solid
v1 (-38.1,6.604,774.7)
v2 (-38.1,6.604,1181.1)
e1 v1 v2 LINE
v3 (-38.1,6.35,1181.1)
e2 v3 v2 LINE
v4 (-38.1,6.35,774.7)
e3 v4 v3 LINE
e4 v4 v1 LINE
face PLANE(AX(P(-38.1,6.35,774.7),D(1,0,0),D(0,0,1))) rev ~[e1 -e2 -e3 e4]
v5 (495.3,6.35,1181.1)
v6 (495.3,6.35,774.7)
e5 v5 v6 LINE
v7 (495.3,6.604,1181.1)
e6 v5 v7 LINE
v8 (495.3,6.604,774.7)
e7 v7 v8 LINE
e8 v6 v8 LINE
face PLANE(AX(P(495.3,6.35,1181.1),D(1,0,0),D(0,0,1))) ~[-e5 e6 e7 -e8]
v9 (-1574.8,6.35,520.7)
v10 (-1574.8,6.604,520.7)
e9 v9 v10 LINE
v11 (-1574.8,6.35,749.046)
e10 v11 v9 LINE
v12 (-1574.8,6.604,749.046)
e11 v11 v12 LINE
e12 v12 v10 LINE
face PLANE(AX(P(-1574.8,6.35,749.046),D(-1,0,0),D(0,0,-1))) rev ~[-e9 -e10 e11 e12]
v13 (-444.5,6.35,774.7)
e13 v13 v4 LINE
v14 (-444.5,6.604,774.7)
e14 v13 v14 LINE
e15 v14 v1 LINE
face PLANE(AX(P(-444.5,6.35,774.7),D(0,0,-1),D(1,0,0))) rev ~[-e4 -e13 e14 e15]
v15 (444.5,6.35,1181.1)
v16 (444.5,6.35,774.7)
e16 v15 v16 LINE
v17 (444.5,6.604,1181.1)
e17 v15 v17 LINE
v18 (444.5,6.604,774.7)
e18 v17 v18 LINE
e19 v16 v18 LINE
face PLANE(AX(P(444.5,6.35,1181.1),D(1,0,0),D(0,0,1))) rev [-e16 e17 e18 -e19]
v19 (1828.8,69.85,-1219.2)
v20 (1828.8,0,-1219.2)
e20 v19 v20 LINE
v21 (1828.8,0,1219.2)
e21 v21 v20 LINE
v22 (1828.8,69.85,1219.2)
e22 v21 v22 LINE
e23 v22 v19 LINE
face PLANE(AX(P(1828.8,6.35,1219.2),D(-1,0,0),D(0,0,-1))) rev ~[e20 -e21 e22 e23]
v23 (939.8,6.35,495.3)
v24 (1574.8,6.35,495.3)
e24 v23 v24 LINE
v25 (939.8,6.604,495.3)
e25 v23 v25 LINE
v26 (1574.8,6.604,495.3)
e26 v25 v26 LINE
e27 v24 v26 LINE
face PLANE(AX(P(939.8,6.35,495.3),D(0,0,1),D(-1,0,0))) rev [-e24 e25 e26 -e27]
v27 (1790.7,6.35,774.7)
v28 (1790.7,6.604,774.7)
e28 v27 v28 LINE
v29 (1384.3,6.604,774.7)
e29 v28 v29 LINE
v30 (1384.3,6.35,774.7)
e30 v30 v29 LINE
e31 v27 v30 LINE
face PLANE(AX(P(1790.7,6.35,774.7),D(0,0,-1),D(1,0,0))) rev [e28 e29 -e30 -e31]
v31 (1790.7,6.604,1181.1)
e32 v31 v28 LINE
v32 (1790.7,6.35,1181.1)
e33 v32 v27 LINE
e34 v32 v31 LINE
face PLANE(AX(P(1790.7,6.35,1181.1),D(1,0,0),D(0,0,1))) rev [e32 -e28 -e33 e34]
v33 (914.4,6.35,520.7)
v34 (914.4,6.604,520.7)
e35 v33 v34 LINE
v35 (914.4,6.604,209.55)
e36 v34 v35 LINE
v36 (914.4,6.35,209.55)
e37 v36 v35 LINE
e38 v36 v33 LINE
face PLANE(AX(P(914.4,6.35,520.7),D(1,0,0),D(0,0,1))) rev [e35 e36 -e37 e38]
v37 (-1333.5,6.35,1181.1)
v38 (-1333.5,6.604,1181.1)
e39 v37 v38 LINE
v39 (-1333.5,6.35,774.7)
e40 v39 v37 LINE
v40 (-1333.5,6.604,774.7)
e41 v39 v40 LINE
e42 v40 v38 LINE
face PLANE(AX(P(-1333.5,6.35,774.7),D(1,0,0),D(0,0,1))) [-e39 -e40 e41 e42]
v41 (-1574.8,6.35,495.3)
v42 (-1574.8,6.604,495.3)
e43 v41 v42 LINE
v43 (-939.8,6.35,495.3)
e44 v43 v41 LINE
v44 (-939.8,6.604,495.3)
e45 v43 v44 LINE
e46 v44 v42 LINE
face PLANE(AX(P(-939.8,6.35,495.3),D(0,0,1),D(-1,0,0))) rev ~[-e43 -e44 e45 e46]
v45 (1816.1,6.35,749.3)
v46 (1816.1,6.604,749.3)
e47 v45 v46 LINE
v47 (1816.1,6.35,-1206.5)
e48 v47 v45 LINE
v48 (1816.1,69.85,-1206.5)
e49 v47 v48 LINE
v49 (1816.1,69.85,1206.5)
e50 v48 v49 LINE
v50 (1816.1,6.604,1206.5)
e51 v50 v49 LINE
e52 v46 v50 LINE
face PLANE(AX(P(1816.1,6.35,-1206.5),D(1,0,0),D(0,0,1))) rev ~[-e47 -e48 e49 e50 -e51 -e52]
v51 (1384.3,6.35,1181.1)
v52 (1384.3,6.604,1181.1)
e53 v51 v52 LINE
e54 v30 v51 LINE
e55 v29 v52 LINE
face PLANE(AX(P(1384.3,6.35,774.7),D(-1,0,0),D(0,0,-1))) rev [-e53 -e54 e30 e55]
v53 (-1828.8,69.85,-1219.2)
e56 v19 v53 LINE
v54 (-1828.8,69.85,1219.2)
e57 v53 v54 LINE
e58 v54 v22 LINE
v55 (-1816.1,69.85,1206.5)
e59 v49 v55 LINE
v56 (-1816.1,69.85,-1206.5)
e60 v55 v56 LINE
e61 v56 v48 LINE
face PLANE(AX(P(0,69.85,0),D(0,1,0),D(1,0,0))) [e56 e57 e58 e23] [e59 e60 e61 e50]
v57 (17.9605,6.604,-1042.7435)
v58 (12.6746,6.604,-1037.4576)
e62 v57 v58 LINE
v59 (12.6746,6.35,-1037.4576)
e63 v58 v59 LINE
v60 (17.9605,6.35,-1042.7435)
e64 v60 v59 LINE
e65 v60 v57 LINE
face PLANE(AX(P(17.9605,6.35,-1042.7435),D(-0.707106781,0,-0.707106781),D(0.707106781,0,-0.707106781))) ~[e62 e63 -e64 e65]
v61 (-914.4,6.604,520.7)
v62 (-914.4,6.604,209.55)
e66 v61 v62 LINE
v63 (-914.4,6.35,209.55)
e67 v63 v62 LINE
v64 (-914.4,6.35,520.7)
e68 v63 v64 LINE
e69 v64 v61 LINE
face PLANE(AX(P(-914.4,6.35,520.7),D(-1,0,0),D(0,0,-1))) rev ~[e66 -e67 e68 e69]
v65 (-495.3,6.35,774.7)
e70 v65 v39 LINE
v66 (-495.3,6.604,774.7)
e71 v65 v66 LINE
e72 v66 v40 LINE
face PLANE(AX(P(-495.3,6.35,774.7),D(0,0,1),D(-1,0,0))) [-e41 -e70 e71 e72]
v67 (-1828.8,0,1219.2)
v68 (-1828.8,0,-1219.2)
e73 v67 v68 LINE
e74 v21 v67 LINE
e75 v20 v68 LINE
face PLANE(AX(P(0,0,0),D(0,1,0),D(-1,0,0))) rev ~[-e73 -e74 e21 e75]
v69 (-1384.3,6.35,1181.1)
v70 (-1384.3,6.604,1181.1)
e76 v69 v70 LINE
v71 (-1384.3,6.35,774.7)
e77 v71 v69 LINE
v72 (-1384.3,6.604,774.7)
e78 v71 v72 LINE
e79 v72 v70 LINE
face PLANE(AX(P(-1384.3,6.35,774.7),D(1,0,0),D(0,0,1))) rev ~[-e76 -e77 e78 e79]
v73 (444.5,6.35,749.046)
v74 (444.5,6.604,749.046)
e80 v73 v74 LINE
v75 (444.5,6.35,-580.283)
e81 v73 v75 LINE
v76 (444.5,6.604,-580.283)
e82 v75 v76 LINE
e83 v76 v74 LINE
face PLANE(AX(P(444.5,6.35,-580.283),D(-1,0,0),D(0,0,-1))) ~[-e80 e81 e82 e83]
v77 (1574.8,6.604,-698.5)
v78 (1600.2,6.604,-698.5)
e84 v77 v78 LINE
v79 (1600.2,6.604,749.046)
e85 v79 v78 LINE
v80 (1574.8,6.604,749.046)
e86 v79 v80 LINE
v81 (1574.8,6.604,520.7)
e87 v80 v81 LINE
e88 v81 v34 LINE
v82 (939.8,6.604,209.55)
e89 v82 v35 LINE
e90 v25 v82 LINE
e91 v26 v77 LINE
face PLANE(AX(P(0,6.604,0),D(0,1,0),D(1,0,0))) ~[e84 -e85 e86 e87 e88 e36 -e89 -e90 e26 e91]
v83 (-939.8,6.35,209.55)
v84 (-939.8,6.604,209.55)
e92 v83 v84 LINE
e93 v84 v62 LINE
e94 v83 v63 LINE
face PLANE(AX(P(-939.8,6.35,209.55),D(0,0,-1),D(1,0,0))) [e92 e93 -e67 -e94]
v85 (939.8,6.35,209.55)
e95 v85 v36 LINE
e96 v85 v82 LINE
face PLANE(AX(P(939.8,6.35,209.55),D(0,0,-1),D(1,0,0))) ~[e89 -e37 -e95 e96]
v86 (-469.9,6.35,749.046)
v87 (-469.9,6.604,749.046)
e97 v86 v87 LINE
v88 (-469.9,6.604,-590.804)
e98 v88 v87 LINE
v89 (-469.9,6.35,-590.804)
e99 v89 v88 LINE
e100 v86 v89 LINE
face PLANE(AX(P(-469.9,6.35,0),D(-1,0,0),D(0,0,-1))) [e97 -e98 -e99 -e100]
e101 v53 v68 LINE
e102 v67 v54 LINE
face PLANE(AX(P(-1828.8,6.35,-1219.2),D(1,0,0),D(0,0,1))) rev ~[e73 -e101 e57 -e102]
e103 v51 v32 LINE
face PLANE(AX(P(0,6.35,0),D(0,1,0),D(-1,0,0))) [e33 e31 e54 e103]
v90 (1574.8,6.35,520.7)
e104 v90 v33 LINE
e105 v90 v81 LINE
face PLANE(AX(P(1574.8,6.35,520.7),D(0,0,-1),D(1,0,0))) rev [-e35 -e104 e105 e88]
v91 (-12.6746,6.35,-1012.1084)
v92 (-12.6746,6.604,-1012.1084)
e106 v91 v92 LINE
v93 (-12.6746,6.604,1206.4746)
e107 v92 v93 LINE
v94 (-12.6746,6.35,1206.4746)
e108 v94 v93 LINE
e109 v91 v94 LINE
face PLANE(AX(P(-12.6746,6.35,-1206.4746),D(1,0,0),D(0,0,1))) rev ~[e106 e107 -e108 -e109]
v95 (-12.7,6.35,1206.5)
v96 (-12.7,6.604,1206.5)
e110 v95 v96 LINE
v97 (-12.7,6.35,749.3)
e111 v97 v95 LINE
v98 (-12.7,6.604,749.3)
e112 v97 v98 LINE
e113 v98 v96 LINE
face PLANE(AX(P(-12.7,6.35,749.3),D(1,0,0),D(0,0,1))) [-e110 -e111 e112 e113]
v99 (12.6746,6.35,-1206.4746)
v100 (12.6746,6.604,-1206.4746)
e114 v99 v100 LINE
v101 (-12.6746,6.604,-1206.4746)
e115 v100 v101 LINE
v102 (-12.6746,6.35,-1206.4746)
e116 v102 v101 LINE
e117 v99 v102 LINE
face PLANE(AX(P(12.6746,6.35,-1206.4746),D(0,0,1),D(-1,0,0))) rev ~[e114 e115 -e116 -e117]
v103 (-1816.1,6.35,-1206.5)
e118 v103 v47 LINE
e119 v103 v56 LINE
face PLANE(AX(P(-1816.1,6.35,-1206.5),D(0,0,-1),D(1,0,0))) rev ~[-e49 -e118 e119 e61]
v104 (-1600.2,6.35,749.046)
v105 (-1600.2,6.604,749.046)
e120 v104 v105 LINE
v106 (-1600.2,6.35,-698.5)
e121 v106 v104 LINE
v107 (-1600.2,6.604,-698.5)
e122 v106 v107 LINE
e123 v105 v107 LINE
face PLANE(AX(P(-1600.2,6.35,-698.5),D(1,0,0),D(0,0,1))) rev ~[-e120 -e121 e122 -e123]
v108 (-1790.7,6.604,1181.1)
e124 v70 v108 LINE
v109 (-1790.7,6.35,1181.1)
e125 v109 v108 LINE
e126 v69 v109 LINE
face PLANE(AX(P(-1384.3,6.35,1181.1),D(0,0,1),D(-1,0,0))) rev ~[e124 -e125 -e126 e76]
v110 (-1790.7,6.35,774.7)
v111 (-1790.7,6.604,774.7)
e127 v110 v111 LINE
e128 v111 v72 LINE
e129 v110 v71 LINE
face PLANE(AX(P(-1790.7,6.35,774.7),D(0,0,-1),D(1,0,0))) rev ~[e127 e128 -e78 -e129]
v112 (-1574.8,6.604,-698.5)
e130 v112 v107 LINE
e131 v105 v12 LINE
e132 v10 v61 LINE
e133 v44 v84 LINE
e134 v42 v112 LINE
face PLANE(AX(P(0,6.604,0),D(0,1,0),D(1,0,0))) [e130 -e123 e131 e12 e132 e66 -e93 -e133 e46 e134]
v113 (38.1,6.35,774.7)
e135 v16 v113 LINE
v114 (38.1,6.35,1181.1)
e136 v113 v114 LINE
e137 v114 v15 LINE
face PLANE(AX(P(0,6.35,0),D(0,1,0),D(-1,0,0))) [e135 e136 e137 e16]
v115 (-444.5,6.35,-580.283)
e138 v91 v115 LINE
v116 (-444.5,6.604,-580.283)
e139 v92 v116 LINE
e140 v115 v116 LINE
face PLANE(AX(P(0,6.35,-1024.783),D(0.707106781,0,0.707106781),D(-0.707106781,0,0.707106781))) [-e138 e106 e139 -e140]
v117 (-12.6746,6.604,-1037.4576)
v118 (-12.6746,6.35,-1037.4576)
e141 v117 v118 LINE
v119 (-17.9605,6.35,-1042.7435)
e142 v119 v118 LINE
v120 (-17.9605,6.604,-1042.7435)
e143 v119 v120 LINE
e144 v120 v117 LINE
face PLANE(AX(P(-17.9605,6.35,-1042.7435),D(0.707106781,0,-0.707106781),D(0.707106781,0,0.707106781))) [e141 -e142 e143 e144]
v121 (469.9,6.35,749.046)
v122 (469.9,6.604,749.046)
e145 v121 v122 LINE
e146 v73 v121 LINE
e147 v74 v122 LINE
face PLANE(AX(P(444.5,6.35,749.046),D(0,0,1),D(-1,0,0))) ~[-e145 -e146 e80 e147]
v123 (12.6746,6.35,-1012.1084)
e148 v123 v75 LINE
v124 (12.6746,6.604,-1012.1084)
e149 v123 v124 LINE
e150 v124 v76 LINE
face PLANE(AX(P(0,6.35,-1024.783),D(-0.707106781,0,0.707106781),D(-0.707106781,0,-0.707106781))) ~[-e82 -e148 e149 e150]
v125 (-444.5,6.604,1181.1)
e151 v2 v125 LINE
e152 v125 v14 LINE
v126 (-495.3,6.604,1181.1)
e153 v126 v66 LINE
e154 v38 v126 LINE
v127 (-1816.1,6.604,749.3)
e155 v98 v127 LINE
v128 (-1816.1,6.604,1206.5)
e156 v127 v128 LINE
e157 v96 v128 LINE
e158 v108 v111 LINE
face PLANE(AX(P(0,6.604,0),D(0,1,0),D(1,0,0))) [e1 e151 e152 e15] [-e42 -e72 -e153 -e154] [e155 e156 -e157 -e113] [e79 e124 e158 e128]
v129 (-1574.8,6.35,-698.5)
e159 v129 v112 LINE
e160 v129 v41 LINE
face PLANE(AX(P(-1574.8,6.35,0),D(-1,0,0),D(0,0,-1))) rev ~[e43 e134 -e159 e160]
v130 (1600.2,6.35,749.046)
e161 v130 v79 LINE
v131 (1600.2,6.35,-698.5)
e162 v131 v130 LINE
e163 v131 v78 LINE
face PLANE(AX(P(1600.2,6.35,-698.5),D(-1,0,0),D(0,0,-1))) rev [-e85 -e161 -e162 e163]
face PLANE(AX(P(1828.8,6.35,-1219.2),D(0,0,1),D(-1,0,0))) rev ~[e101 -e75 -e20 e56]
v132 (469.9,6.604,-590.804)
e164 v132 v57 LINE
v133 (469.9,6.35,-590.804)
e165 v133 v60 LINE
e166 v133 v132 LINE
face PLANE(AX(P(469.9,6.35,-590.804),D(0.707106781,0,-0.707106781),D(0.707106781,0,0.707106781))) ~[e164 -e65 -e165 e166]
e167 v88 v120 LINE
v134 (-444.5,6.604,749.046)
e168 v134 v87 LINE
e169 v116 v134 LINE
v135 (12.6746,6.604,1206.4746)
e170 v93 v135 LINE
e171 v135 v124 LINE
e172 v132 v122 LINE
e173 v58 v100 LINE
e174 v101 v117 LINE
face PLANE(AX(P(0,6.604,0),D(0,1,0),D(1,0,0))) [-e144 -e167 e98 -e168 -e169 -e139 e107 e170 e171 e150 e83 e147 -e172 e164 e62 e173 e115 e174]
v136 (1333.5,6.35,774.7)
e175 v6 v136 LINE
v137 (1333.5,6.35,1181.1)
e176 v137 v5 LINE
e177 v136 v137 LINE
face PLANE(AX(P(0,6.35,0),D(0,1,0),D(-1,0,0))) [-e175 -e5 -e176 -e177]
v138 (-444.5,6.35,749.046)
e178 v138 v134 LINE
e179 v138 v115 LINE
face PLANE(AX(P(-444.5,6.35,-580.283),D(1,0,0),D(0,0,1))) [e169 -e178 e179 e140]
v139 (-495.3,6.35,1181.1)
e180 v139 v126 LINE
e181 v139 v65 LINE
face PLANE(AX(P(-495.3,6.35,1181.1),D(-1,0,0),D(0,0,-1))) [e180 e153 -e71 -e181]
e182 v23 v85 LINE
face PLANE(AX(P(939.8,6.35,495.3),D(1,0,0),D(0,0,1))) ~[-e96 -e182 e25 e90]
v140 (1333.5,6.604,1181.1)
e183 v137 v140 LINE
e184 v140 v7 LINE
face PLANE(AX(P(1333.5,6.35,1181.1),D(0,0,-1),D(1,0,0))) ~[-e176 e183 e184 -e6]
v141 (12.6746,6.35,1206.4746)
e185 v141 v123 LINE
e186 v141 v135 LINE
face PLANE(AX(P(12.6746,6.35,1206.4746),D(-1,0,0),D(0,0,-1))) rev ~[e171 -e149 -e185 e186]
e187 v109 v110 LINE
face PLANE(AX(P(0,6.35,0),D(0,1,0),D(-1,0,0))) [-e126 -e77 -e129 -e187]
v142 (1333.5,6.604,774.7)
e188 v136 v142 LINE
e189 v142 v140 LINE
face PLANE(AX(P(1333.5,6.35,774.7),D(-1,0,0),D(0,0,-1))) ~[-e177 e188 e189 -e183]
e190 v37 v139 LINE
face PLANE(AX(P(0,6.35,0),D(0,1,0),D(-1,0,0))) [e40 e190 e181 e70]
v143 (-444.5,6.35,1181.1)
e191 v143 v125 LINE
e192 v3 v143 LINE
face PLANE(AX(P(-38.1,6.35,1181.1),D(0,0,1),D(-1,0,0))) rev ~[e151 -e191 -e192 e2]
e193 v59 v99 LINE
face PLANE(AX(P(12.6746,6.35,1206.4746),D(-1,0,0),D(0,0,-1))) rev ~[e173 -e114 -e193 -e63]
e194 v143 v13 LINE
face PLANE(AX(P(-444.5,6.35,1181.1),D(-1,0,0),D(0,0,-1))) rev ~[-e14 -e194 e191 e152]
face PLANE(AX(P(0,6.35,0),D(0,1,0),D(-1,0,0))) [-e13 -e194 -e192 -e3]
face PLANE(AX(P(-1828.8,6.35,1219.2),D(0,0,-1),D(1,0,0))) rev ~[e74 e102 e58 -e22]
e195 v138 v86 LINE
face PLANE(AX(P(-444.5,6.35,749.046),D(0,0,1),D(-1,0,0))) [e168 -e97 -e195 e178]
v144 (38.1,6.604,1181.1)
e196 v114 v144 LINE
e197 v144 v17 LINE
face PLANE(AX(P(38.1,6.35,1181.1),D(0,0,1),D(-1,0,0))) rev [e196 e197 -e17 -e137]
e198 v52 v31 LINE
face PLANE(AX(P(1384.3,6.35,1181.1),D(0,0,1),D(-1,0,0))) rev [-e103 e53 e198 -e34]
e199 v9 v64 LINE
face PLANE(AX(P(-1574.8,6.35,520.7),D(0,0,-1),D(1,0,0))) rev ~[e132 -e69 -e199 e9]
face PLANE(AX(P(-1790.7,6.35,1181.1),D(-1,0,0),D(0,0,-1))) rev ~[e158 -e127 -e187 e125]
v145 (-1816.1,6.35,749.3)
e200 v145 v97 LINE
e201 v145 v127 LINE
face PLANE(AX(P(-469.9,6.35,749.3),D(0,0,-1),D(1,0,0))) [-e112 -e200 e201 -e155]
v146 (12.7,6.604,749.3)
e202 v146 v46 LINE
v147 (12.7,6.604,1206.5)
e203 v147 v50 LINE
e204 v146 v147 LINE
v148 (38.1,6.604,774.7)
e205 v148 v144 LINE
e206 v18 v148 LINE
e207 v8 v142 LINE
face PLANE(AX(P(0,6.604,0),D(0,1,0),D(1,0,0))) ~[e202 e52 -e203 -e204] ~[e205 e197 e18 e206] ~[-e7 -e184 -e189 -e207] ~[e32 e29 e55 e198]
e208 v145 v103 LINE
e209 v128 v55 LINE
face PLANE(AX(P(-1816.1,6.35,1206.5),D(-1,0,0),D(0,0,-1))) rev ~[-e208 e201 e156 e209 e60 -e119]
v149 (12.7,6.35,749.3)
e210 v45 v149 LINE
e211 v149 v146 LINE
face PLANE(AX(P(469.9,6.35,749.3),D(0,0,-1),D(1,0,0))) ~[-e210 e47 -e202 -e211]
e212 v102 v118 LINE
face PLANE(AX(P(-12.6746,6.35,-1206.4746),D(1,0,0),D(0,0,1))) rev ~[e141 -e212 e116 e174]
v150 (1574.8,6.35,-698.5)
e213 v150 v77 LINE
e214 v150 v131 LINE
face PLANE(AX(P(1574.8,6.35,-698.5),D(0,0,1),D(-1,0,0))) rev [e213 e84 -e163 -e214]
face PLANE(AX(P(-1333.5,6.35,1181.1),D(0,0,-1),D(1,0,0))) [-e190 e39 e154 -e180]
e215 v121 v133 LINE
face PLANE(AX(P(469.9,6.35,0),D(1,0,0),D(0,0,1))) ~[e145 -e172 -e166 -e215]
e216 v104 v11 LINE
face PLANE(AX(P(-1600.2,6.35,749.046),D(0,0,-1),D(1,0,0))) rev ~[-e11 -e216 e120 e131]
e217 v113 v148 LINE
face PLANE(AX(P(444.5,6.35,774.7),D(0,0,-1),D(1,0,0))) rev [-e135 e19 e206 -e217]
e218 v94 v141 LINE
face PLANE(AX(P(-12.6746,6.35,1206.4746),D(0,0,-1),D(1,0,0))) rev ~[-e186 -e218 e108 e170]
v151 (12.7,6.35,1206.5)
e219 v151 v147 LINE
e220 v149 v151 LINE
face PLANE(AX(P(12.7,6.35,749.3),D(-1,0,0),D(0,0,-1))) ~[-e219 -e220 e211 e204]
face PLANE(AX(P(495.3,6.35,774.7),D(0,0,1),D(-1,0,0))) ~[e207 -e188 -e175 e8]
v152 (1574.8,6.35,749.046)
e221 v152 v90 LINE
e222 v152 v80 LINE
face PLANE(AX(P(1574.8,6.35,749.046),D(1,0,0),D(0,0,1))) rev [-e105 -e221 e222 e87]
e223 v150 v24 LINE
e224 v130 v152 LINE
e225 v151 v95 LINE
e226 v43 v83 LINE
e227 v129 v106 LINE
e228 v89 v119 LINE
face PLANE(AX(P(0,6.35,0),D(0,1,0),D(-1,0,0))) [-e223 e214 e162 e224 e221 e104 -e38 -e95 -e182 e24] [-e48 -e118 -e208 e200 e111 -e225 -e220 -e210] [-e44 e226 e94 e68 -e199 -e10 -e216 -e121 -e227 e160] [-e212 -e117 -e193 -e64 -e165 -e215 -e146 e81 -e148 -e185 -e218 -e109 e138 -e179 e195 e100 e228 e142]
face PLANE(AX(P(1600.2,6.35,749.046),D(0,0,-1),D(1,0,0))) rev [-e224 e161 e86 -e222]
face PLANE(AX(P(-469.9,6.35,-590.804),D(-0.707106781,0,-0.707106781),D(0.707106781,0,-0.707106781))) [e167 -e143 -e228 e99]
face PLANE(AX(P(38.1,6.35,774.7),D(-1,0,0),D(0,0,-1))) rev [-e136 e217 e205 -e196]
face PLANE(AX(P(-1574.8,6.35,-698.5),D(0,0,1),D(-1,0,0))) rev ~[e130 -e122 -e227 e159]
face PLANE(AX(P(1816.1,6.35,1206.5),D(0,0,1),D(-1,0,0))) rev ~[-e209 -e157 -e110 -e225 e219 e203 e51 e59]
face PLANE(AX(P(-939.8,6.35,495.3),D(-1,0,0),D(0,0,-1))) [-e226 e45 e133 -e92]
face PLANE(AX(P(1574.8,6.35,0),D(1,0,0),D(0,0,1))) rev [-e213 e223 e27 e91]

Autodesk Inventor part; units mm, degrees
ref_plane "YZ Plane" through (0, 0, 0) normal (1, 0, 0) x (0, 1, 0)
ref_plane "XZ Plane" through (0, 0, 0) normal (0, 1, 0) x (-1, 0, 0)
ref_plane "XY Plane" through (0, 0, 0) normal (0, 0, 1) x (1, 0, 0)
sketch "Sketch1" plane through (0, 0, 0) normal (0, 1, 0) x (-1, 0, 0)
  line L0 (0, -1706.88) -> (0, 1706.88) projected
  line L1 (-2560.32, 0) -> (2560.32, 0) projected
  line L2 (1828.8, 1219.2) -> (-1828.8, 1219.2)
  line L3 (-1828.8, 1219.2) -> (-1828.8, -1219.2)
  line L4 (-1828.8, -1219.2) -> (1828.8, -1219.2)
  line L5 (1828.8, -1219.2) -> (1828.8, 1219.2)
  line L6 (1828.8, 1219.2) -> (-1828.8, -1219.2) construction
  line L7 (-1828.8, 1219.2) -> (1828.8, -1219.2) construction
  point P0 (0, 0)
  dimension "d0" = 2438.4
  dimension "d1" = 3657.6
extrude "Extrusion1" add sketch "Sketch1" along normal blind 6.35
sketch "Sketch2" plane through (0, 6.35, 0) normal (0, 1, 0) x (1, 0, 0)
  line L0 (-1828.8, -1219.2) -> (1828.8, -1219.2) projected
  line L1 (1828.8, -1219.2) -> (1828.8, 1219.2) projected
  line L2 (1828.8, 1219.2) -> (-1828.8, 1219.2) projected
  line L3 (-1828.8, 1219.2) -> (-1828.8, -1219.2) projected
  line L4 (-1816.1, 1206.5) -> (1816.1, 1206.5)
  line L5 (1816.1, 1206.5) -> (1816.1, -1206.5)
  line L6 (1816.1, -1206.5) -> (-1816.1, -1206.5)
  line L7 (-1816.1, -1206.5) -> (-1816.1, 1206.5)
  point P0 (0, 0)
  dimension "d4" = 12.7
extrude "Extrusion2" add sketch "Sketch2" along normal blind 63.5
sketch "Sketch4" plane through (0, 6.35, 0) normal (0, 1, 0) x (1, 0, 0)
  line L0 (1816.1, -1206.5) -> (1816.1, 1206.5) projected
  line L1 (1816.1, 1206.5) -> (-1816.1, 1206.5) projected
  line L2 (-1816.1, 1206.5) -> (-1816.1, -1206.5) projected
  line L3 (-1816.1, -1206.5) -> (1816.1, -1206.5) projected
  line L4 (-1828.8, -1219.2) -> (1828.8, -1219.2) projected
  line L5 (-1828.8, 1219.2) -> (-1828.8, -1219.2) projected
  line L6 (1828.8, 1219.2) -> (-1828.8, 1219.2) projected
  line L7 (1828.8, -1219.2) -> (1828.8, 1219.2) projected
  line L8 (-1816.1, -1206.5) -> (-1358.9, -1206.5)
  line L9 (-1358.9, -1206.5) -> (-1358.9, -749.3)
  line L10 (-1358.9, -749.3) -> (-1816.1, -749.3)
  line L11 (-1816.1, -749.3) -> (-1816.1, -1206.5)
  line L12 (-1790.7, -774.7) -> (-1384.3, -774.7)
  line L13 (-1384.3, -774.7) -> (-1384.3, -1181.1)
  line L14 (-1384.3, -1181.1) -> (-1790.7, -1181.1)
  line L15 (-1790.7, -1181.1) -> (-1790.7, -774.7)
  line L16 (0, 1706.88) -> (0, -1706.88) projected
  line L17 (2560.32, 0) -> (-2560.32, 0) projected
  line L18 (-1358.9, -1206.5) -> (-469.9, -1206.5)
  line L19 (-469.9, -1206.5) -> (-469.9, -749.3)
  line L20 (-469.9, -749.3) -> (-1358.9, -749.3)
  line L21 (-1358.9, -749.3) -> (-1358.9, -1206.5)
  line L22 (-469.9, -749.3) -> (-12.7, -749.3)
  line L23 (-12.7, -749.3) -> (-12.7, -1206.5)
  line L24 (-12.7, -1206.5) -> (-469.9, -1206.5)
  line L25 (-469.9, -1206.5) -> (-469.9, -749.3)
  line L26 (-495.3, -774.7) -> (-1333.5, -774.7)
  line L27 (-1333.5, -774.7) -> (-1333.5, -1181.1)
  line L28 (-1333.5, -1181.1) -> (-495.3, -1181.1)
  line L29 (-495.3, -1181.1) -> (-495.3, -774.7)
  line L30 (-444.5, -774.7) -> (-38.1, -774.7)
  line L31 (-38.1, -774.7) -> (-38.1, -1181.1)
  line L32 (-38.1, -1181.1) -> (-444.5, -1181.1)
  line L33 (-444.5, -1181.1) -> (-444.5, -774.7)
  line L34 (-12.7, -1206.5) -> (0, -1206.5)
  line L35 (0, -1206.5) -> (0, 609.6)
  line L36 (0, 609.6) -> (-12.7, 609.6)
  line L37 (-12.7, 609.6) -> (-12.7, -1206.5)
  line L38 (-1574.8, -749.3) -> (-1600.2, -749.3)
  point P0 (0, 0)
  dimension "d7" = 457.2
  dimension "d8" = 25.4
  dimension "d9" = 889
  dimension "d10" = 457.2
  dimension "d11" = 25.4
  dimension "d12" = 25.4
  dimension "d13" = 609.6
extrude "Extrusion3" add sketch "Sketch4" along normal blind 0.254 contours L3 L19 L22 L23 | L3 L9 L20 L19 | L3 L2 L10 L9
sketch "Sketch7" plane through (0, 6.35, 0) normal (0, 1, 0) x (1, 0, 0)
  line L0 (0, 1706.88) -> (0, -1706.88) projected
  line L1 (2560.32, 0) -> (-2560.32, 0) projected
  line L2 (-1816.1, -749.3) -> (-12.7, -749.3) projected
  line L3 (-12.7, -749.3) -> (-12.7, -1206.5) projected
  line L4 (-12.7, -1206.5) -> (1816.1, -1206.5) projected
  line L5 (1816.1, -1206.5) -> (1816.1, 1206.5) projected
  line L6 (1816.1, 1206.5) -> (-1816.1, 1206.5) projected
  line L7 (-1816.1, 1206.5) -> (-1816.1, -749.3) projected
  line L8 (-469.9, 590.804) -> (-444.5, 590.804)
  line L9 (-444.5, 590.804) -> (-444.5, -749.046)
  line L10 (-444.5, -749.046) -> (-469.9, -749.046)
  line L11 (-469.9, -749.046) -> (-469.9, 590.804)
  line L12 (-469.9, 590.804) -> (-17.9605, 1042.7435)
  line L13 (-17.9605, 1042.7435) -> (0, 1024.783)
  line L14 (-444.5, -1181.1) -> (-444.5, -774.7) projected
  line L15 (0, 1024.783) -> (-444.5, 580.283)
  line L16 (-1600.2, -749.046) -> (-1574.8, -749.046)
  line L17 (-1574.8, -749.046) -> (-1574.8, 698.5)
  line L18 (-1574.8, 698.5) -> (-1600.2, 698.5)
  line L19 (-1600.2, 698.5) -> (-1600.2, -749.046)
  line L20 (-12.7, -749.3) -> (-1816.1, -749.3) projected
  line L21 (-1574.8, -520.7) -> (-914.4, -520.7)
  line L22 (-914.4, -520.7) -> (-914.4, -495.3)
  line L23 (-914.4, -495.3) -> (-1574.8, -495.3)
  line L24 (-1574.8, -495.3) -> (-1574.8, -520.7)
  line L25 (-914.4, -495.3) -> (-939.8, -495.3)
  line L26 (-939.8, -495.3) -> (-939.8, -209.55)
  line L27 (-939.8, -209.55) -> (-914.4, -209.55)
  line L28 (-914.4, -209.55) -> (-914.4, -495.3)
  point P0 (0, 0)
  dimension "d21" = 1339.85
  dimension "d22" = 25.4
  dimension "d23" = 0.254
  dimension "d24" = 135
  dimension "d25" = 508
  dimension "d26" = 0.254
  dimension "d27" = 215.9
  dimension "d28" = 228.6
  dimension "d29" = 285.75
  dimension "d31" = 635
extrude "Extrusion5" add sketch "Sketch7" along normal blind 0.254 contours L15 L9 L8 L12 L13 | L9 L1 L11 L8 | L9 L10 L11 L1 | L19 L18 L17 L1 | L1 L17 L16 L19 | L23 L22 L21 L17 | L26 L27 L28 L23
mirror "Mirror1" about plane through (0, 0, 0) normal (1, 0, 0) of "Extrusion3", "Extrusion5"
sketch "Sketch5" plane through (0, 6.35, 0) normal (0, 1, 0) x (1, 0, 0)
  line L0 (-1384.3, -774.7) -> (-1384.3, -1181.1) projected
  line L1 (-1384.3, -1181.1) -> (-1790.7, -1181.1) projected
  line L2 (-1790.7, -1181.1) -> (-1790.7, -774.7) projected
  line L3 (-1790.7, -774.7) -> (-1384.3, -774.7) projected
  line L4 (-495.3, -774.7) -> (-495.3, -1181.1) projected
  line L5 (-495.3, -1181.1) -> (-1333.5, -1181.1) projected
  line L6 (-1333.5, -1181.1) -> (-1333.5, -774.7) projected
  line L7 (-1333.5, -774.7) -> (-495.3, -774.7) projected
  line L8 (-38.1, -774.7) -> (-38.1, -1181.1) projected
  line L9 (-38.1, -1181.1) -> (-444.5, -1181.1) projected
  line L10 (-444.5, -1181.1) -> (-444.5, -774.7) projected
  line L11 (-444.5, -774.7) -> (-38.1, -774.7) projected
  line L12 (-12.7, -1206.5) -> (-12.7, -749.3) projected
  line L13 (-12.7, -749.3) -> (-1816.1, -749.3) projected
  line L14 (-1816.1, -1206.5) -> (-1816.1, -749.3) projected
  line L15 (-12.7, -1206.5) -> (-1816.1, -1206.5) projected
  line L16 (1384.3, -774.7) -> (1384.3, -1181.1) projected
  line L17 (1790.7, -774.7) -> (1384.3, -774.7) projected
  line L18 (1790.7, -1181.1) -> (1790.7, -774.7) projected
  line L19 (1384.3, -1181.1) -> (1790.7, -1181.1) projected
  line L20 (495.3, -774.7) -> (495.3, -1181.1) projected
  line L21 (1333.5, -774.7) -> (495.3, -774.7) projected
  line L22 (1333.5, -1181.1) -> (1333.5, -774.7) projected
  line L23 (495.3, -1181.1) -> (1333.5, -1181.1) projected
  line L24 (38.1, -774.7) -> (38.1, -1181.1) projected
  line L25 (444.5, -774.7) -> (38.1, -774.7) projected
  line L26 (444.5, -1181.1) -> (444.5, -774.7) projected
  line L27 (38.1, -1181.1) -> (444.5, -1181.1) projected
  line L28 (12.7, -1206.5) -> (12.7, -749.3) projected
  line L29 (1816.1, -1206.5) -> (12.7, -1206.5) projected
  line L30 (1816.1, -749.3) -> (1816.1, -1206.5) projected
  line L31 (12.7, -749.3) -> (1816.1, -749.3) projected
  line L32 (12.7, -749.3) -> (1816.1, -749.3) projected
  line L33 (1816.1, -749.3) -> (1816.1, 1206.5) projected
  line L34 (1816.1, 1206.5) -> (-1816.1, 1206.5) projected
  line L35 (-1816.1, 1206.5) -> (-1816.1, -749.3) projected
  line L36 (-1816.1, -749.3) -> (-12.7, -749.3) projected
  line L37 (-12.7, -749.3) -> (-12.7, -1206.5) projected
  line L38 (-12.7, -1206.5) -> (12.7, -1206.5) projected
  line L39 (12.7, -1206.5) -> (12.7, -749.3) projected
  line L40 (-12.7, -1206.5) -> (12.7, -1206.5)
  line L41 (12.7, -1206.5) -> (12.7, 1206.5)
  line L42 (12.7, 1206.5) -> (-12.7, 1206.5)
  line L43 (-12.7, 1206.5) -> (-12.7, -1206.5)
  line L44 (-12.6746, -1206.4746) -> (12.6746, -1206.4746)
  line L45 (12.6746, -1206.4746) -> (12.6746, 1206.4746)
  line L46 (12.6746, 1206.4746) -> (-12.6746, 1206.4746)
  line L47 (-12.6746, 1206.4746) -> (-12.6746, -1206.4746)
  point P0 (0, 0)
  dimension "d18" = 0.0254
extrude "Extrusion4" add sketch "Sketch5" along normal blind 0.254 contours L47 L46 L45 L44
equation "\"d11\" = d8"
equation "\"d12\" = d11"
properties part number "Field"
